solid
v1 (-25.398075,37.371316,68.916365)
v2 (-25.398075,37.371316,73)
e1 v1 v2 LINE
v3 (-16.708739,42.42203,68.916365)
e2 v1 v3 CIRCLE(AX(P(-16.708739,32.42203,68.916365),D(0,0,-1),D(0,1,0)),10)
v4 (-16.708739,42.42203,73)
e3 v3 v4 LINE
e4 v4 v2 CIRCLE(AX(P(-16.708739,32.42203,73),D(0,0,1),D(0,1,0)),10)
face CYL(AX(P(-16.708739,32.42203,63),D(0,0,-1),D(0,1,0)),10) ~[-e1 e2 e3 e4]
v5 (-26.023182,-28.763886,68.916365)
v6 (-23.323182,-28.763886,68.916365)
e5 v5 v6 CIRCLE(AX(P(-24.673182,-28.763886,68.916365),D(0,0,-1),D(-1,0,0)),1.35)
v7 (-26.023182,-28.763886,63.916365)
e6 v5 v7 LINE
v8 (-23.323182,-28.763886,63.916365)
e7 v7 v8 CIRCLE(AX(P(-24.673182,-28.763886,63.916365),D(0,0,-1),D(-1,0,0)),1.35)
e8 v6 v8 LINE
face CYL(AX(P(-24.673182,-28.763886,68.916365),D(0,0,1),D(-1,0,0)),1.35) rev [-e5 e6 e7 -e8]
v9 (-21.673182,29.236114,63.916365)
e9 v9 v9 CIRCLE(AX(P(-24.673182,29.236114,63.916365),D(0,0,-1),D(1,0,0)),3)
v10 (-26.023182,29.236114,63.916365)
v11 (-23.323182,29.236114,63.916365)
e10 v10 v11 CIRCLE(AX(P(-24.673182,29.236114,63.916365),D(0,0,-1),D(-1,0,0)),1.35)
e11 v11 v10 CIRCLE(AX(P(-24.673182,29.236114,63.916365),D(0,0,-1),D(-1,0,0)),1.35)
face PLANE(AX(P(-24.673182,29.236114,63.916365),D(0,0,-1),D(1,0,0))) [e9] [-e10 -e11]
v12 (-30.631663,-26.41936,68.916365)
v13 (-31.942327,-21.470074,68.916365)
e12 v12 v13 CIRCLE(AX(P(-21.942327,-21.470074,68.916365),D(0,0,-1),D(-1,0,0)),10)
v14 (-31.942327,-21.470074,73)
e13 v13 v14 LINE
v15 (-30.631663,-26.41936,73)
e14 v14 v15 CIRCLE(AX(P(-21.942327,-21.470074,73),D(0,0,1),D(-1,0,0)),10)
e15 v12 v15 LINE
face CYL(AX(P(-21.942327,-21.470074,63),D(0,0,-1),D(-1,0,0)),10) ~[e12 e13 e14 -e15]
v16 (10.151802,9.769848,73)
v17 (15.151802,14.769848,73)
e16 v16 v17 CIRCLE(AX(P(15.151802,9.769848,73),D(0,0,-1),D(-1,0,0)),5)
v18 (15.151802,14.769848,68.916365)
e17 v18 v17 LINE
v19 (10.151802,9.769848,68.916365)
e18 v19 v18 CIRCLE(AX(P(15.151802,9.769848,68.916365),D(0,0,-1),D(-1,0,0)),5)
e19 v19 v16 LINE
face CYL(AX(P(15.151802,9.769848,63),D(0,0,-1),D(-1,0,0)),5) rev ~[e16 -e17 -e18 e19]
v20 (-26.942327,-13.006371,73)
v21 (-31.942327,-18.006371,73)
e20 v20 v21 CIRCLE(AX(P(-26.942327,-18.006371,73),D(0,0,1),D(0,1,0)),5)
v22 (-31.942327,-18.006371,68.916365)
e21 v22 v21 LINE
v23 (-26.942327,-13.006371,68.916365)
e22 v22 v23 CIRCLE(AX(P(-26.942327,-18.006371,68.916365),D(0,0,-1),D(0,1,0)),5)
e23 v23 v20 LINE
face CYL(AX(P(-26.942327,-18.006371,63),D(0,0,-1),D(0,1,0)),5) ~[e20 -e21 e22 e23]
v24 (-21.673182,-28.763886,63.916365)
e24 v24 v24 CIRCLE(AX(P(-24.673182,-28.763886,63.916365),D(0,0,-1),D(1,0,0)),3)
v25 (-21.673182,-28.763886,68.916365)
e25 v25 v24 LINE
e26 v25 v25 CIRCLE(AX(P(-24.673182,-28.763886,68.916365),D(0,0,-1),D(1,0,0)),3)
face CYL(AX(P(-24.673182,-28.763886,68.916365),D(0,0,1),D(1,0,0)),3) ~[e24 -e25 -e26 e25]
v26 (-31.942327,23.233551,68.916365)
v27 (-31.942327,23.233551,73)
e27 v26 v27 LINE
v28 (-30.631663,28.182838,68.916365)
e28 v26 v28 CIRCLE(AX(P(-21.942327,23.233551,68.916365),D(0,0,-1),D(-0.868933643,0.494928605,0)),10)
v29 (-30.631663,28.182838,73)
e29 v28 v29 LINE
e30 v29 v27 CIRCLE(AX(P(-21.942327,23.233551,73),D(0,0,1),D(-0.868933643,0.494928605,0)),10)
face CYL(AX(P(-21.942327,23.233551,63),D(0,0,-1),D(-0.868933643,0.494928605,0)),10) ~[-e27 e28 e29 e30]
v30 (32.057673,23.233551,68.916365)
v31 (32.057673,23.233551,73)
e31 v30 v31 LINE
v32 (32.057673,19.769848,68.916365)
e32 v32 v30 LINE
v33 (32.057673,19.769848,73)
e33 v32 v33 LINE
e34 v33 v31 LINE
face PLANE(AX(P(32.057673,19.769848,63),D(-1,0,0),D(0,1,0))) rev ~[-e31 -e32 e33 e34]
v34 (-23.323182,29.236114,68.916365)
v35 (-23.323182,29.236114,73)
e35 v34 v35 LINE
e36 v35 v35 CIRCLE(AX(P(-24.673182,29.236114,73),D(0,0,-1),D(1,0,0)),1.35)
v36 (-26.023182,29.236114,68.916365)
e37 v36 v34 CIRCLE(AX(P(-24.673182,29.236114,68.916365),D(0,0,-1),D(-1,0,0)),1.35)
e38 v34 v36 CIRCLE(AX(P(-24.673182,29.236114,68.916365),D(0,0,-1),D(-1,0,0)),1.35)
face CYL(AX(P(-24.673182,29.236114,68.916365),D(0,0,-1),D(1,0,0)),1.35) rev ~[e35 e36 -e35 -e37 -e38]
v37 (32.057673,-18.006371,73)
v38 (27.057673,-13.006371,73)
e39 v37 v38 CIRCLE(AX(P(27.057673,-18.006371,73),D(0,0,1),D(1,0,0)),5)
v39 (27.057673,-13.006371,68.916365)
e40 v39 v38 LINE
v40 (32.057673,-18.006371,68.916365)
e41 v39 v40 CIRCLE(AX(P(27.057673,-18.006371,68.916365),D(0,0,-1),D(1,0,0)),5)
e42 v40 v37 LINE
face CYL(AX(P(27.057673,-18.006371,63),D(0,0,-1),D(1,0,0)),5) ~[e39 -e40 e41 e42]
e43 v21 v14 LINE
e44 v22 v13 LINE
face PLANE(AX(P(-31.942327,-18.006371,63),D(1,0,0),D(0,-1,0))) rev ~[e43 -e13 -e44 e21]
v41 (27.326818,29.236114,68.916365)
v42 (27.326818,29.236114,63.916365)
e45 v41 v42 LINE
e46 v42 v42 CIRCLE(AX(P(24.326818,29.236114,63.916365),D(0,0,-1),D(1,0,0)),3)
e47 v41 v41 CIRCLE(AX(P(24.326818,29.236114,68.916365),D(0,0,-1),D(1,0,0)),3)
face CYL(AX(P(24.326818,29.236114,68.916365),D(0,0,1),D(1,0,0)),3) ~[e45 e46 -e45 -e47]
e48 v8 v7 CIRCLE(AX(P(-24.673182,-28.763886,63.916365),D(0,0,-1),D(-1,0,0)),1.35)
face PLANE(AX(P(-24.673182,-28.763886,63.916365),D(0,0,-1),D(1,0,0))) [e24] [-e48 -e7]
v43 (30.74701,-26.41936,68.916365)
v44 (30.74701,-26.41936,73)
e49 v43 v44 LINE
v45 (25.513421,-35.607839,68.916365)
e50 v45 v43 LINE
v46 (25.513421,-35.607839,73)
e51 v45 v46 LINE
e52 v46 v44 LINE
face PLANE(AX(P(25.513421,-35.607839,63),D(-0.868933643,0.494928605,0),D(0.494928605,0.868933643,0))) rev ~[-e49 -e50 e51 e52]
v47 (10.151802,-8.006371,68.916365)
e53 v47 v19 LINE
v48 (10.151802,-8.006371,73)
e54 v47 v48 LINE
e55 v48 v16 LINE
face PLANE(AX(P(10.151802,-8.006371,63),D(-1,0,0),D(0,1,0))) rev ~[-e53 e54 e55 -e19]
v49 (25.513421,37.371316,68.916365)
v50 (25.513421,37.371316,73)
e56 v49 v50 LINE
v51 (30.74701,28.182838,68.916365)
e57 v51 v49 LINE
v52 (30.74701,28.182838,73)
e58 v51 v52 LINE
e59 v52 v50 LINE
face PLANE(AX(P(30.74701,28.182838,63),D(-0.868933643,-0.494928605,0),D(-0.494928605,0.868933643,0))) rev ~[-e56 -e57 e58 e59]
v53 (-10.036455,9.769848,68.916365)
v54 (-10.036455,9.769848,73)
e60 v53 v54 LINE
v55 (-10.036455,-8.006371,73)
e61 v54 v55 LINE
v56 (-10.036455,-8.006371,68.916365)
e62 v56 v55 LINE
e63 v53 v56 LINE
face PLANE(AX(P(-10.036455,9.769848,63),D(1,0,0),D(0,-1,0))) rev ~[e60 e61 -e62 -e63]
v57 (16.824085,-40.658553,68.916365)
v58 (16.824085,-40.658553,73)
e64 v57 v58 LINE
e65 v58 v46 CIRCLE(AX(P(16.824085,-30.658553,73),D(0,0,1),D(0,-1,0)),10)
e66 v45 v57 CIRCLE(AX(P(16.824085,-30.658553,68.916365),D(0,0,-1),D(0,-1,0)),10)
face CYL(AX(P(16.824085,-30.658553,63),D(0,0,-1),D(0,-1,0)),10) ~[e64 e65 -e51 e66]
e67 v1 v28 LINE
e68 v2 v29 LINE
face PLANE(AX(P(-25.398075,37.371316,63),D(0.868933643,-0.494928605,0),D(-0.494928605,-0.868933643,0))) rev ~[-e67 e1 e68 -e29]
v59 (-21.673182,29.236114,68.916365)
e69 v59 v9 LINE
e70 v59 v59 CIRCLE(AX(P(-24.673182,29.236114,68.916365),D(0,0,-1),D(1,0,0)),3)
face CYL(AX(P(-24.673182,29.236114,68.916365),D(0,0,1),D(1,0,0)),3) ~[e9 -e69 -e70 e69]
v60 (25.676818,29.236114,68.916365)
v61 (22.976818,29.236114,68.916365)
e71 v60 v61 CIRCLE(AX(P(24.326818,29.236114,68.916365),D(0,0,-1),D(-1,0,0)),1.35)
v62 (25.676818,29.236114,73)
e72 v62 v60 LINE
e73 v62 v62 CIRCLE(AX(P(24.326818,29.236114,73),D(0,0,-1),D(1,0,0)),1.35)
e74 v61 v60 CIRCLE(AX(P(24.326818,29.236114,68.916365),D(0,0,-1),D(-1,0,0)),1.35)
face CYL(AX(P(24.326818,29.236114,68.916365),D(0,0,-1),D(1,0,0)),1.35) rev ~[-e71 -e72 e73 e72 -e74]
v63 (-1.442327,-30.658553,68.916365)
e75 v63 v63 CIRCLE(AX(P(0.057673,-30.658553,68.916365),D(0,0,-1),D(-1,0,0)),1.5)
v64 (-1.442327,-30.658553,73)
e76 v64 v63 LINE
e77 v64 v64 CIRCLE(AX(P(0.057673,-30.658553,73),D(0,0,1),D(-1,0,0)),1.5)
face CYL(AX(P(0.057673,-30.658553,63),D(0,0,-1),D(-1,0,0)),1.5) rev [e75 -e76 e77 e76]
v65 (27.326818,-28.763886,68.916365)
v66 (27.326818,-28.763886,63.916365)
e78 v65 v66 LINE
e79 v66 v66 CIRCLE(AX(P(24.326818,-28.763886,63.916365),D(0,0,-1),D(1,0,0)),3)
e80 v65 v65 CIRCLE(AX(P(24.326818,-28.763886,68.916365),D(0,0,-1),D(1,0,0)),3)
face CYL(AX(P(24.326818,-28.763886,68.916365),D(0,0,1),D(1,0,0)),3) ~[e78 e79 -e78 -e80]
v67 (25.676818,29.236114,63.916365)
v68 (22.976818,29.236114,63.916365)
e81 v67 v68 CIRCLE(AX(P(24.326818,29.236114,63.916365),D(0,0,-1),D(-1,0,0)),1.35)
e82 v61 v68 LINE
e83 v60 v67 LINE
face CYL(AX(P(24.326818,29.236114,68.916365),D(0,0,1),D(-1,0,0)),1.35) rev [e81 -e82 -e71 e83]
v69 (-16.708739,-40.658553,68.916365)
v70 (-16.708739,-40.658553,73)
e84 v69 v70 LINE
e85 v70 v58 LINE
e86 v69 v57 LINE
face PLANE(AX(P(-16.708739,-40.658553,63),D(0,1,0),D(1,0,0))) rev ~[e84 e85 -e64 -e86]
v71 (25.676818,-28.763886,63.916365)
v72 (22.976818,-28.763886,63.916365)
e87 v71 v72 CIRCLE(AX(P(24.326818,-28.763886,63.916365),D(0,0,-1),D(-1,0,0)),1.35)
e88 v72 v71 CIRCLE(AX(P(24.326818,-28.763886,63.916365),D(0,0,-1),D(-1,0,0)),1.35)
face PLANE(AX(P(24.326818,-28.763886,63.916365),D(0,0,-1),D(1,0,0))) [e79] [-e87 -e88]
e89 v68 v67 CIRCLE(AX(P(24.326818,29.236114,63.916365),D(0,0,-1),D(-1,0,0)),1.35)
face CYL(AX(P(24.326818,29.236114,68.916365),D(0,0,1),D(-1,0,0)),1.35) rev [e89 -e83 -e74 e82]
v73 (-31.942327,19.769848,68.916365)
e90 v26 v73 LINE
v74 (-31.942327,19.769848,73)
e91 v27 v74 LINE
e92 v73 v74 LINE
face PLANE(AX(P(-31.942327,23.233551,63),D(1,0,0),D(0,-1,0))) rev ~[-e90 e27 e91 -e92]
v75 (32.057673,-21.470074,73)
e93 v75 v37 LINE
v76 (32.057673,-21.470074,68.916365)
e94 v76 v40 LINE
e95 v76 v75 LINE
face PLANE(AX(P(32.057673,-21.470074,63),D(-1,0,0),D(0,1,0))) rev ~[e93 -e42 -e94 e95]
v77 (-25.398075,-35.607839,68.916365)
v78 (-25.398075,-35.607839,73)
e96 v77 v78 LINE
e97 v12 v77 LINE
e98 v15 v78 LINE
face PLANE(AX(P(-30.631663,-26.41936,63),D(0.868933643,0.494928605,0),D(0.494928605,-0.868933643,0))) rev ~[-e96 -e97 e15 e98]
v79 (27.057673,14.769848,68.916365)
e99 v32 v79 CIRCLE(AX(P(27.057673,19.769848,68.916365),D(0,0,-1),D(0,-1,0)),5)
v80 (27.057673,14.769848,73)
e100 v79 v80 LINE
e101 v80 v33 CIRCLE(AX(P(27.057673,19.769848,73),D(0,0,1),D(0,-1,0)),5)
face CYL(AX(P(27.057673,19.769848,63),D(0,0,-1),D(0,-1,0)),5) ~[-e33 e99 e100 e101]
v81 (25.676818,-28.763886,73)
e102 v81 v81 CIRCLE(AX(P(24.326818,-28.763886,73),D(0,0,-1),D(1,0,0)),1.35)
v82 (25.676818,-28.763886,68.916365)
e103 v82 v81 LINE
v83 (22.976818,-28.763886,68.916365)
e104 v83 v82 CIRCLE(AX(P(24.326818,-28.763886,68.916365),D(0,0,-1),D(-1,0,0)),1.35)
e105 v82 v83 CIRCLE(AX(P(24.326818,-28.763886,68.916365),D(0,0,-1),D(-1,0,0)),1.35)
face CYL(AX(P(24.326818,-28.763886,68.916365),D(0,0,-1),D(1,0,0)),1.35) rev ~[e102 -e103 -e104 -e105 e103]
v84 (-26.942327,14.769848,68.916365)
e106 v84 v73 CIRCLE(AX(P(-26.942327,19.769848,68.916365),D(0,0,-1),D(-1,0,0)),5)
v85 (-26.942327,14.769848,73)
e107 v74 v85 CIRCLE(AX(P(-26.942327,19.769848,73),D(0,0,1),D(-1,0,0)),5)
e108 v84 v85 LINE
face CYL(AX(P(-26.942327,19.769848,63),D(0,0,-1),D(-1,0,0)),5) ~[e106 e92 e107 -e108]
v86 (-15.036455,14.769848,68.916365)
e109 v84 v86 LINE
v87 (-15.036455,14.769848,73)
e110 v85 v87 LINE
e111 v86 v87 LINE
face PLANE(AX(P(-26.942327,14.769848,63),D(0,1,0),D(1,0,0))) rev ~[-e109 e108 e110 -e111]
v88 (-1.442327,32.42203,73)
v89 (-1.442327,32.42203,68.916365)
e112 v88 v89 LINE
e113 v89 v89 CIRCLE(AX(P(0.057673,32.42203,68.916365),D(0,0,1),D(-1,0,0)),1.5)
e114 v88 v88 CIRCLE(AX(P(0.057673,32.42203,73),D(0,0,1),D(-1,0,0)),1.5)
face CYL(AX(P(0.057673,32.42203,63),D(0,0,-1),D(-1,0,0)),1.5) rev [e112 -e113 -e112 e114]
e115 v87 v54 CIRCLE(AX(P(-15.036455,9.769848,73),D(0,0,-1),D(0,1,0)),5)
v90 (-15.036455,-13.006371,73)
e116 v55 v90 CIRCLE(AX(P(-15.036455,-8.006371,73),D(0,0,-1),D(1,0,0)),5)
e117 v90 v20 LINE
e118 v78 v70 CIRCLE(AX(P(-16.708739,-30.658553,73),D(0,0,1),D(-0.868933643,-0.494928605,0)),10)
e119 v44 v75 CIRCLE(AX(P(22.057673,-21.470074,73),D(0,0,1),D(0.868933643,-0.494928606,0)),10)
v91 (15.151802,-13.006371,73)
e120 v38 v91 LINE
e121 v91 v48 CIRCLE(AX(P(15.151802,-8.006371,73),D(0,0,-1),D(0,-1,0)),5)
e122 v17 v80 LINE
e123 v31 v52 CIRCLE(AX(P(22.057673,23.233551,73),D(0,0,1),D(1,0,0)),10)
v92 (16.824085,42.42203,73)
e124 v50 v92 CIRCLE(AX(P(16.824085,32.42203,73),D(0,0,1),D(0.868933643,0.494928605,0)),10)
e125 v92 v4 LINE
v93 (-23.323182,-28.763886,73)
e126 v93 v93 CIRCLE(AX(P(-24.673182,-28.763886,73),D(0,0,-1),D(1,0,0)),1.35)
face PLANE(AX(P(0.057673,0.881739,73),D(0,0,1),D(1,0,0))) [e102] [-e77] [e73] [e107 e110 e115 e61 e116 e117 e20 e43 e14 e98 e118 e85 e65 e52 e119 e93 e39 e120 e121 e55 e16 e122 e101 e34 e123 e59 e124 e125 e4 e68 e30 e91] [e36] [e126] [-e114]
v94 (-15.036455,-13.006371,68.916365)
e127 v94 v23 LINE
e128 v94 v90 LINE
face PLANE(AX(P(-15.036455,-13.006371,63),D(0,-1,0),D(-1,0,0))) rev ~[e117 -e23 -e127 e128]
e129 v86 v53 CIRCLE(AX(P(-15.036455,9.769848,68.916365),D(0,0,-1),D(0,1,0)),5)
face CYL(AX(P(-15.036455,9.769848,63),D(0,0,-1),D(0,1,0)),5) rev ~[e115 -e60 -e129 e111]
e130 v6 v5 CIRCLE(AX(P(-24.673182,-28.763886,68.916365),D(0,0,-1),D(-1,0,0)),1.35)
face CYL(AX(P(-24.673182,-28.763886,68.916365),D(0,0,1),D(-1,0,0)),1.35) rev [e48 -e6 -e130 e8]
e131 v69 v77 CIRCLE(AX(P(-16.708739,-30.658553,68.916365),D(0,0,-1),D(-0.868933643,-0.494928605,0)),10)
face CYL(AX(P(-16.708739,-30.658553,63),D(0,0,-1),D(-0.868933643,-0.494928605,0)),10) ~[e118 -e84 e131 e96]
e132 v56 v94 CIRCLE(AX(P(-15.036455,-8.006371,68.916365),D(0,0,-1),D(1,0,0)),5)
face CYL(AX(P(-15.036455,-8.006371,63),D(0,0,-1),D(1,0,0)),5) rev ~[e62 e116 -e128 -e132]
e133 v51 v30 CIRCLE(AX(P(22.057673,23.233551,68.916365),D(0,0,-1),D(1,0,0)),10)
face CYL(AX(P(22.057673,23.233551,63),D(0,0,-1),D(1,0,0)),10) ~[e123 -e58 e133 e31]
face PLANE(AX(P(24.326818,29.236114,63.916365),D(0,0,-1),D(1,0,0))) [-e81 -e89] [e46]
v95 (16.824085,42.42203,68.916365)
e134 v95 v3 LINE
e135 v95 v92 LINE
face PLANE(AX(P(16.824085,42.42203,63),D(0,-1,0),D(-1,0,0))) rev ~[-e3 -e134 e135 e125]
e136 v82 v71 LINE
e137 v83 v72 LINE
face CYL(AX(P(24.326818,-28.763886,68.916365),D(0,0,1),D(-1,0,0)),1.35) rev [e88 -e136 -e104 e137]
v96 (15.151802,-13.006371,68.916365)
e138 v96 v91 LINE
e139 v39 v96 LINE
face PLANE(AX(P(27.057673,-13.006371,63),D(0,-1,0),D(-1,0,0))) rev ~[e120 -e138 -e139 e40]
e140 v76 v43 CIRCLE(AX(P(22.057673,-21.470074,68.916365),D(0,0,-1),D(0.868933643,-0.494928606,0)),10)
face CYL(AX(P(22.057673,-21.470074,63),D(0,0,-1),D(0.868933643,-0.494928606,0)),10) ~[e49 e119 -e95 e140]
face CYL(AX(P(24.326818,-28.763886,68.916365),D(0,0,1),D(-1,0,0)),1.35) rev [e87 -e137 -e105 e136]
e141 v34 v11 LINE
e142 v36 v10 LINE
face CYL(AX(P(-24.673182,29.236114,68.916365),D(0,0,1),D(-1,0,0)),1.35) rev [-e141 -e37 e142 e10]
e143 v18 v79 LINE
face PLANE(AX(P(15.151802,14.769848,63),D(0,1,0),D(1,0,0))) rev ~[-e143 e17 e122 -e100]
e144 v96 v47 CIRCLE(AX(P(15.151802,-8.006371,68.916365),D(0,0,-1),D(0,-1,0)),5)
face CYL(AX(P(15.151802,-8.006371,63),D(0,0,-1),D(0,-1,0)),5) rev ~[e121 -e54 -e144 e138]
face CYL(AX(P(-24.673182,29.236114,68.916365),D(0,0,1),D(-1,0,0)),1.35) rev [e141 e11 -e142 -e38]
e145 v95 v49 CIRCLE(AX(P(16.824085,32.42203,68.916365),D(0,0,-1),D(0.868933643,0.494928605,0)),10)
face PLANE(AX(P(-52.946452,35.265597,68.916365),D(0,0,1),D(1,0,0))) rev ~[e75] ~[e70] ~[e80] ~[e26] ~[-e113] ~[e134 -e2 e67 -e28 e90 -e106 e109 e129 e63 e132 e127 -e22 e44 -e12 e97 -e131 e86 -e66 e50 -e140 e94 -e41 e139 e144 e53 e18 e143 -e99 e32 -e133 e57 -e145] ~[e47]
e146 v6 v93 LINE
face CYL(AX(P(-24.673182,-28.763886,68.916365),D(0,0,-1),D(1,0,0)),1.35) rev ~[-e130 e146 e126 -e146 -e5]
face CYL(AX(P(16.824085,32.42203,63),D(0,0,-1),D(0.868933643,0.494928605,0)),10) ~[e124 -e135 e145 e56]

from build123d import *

# Parameters (mm, degrees)
IZIM1_R                     = 1.5
IZIM1_R_2                   = 1.275
Y_KSEKLIK_EKSTR_ZYON1_DEPTH = 8
IZIM2_R                     = 4
KES_EKSTR_ZYON1_DEPTH       = 5
IZIM3_R                     = 3.5
KES_EKSTR_ZYON2_DEPTH       = 5
IZIM5_W                     = 11.833700998
IZIM5_H                     = 5.687133077
Y_KSEKLIK_EKSTR_ZYON2_DEPTH = 55
IZIM6_R                     = 1.5
KES_EKSTR_ZYON3_DEPTH       = 70
Y_KSEKLIK_EKSTR_ZYON3_DEPTH = 10
KES_EKSTR_ZYON4_START       = -10
IZIM8_R                     = 1.5
KES_EKSTR_ZYON4_DEPTH       = 10
IZIM9_W                     = 97.77314617
IZIM9_H                     = 81.30293778
KES_EKSTR_ZYON5_DEPTH       = 94.5
IZIM10_R                    = 3
IZIM10_R_2                  = 1.35
Y_KSEKLIK_EKSTR_ZYON4_DEPTH = 5
IZIM12_R                    = 1.35
KES_EKSTR_ZYON6_DEPTH       = 11.5


with BuildPart() as part:
    # Çizim1 → Yükseklik-Ekstrüzyon1 (new body)
    with BuildSketch(Plane.XY):
        with BuildLine():
            Line((-26.942326891, 14.769848309), (-15.036455376, 14.769848309))
            ThreePointArc((-15.036455376, 14.769848309), (-11.50092147, 13.305382214), (-10.036455376, 9.769848309))
            Line((-10.036455376, 9.769848309), (-10.036455376, -8.006371062))
            ThreePointArc((-10.036455376, -8.006371062), (-11.50092147, -11.541904968), (-15.036455376, -13.006371062))
            Line((-15.036455376, -13.006371062), (-26.942326891, -13.006371062))
            ThreePointArc((-26.942326891, -13.006371062), (-30.477860797, -14.470837156), (-31.942326891, -18.006371062))
            Line((-31.942326891, -18.006371062), (-31.942326891, -21.470074229))
            ThreePointArc((-31.942326891, -21.470074229), (-31.6091093, -24.030019123), (-30.63166332, -26.419360282))
            Line((-30.63166332, -26.419360282), (-25.398075072, -35.607838889))
            ThreePointArc((-25.398075072, -35.607838889), (-21.734031643, -39.304154624), (-16.708738643, -40.658552836))
            Line((-16.708738643, -40.658552836), (16.824084861, -40.658552836))
            ThreePointArc((16.824084861, -40.658552836), (21.849377861, -39.304154624), (25.513421289, -35.607838889))
            Line((25.513421289, -35.607838889), (30.747009537, -26.419360282))
            ThreePointArc((30.747009537, -26.419360282), (31.724455518, -24.030019123), (32.057673109, -21.470074229))
            Line((32.057673109, -21.470074229), (32.057673109, -18.006371062))
            ThreePointArc((32.057673109, -18.006371062), (30.593207015, -14.470837156), (27.057673109, -13.006371062))
            Line((27.057673109, -13.006371062), (15.151801594, -13.006371062))
            ThreePointArc((15.151801594, -13.006371062), (11.616267688, -11.541904968), (10.151801594, -8.006371062))
            Line((10.151801594, -8.006371062), (10.151801594, 9.769848309))
            ThreePointArc((10.151801594, 9.769848309), (11.616267688, 13.305382214), (15.151801594, 14.769848309))
            Line((15.151801594, 14.769848309), (27.057673109, 14.769848309))
            ThreePointArc((27.057673109, 14.769848309), (30.593207015, 16.234314403), (32.057673109, 19.769848309))
            Line((32.057673109, 19.769848309), (32.057673109, 23.233551476))
            ThreePointArc((32.057673109, 23.233551476), (31.724455518, 25.793496369), (30.747009537, 28.182837528))
            Line((30.747009537, 28.182837528), (25.513421289, 37.371316135))
            ThreePointArc((25.513421289, 37.371316135), (21.849377861, 41.06763187), (16.824084861, 42.422030083))
            Line((16.824084861, 42.422030083), (-16.708738643, 42.422030083))
            ThreePointArc((-16.708738643, 42.422030083), (-21.734031643, 41.06763187), (-25.398075072, 37.371316135))
            Line((-25.398075072, 37.371316135), (-30.63166332, 28.182837528))
            ThreePointArc((-30.63166332, 28.182837528), (-31.6091093, 25.793496369), (-31.942326891, 23.233551476))
            Line((-31.942326891, 23.233551476), (-31.942326891, 19.769848309))
            ThreePointArc((-31.942326891, 19.769848309), (-30.477860797, 16.234314403), (-26.942326891, 14.769848309))
        make_face()
        with Locations((20.284256069, 32.422030083)):
            Circle(IZIM1_R, mode=Mode.SUBTRACT)
        with Locations((-20.168909852, 32.422030083)):
            Circle(IZIM1_R, mode=Mode.SUBTRACT)
        with Locations((-20.168909852, -30.658552836)):
            Circle(IZIM1_R, mode=Mode.SUBTRACT)
        with Locations((20.284256069, -30.658552836)):
            Circle(IZIM1_R, mode=Mode.SUBTRACT)
        with Locations((22.057673109, -21.118261377)):
            Circle(IZIM1_R_2, mode=Mode.SUBTRACT)
        with Locations((-21.942326891, -21.118261377)):
            Circle(IZIM1_R_2, mode=Mode.SUBTRACT)
        with Locations((22.057673109, 22.881738623)):
            Circle(IZIM1_R_2, mode=Mode.SUBTRACT)
        with Locations((-21.942326891, 22.881738623)):
            Circle(IZIM1_R_2, mode=Mode.SUBTRACT)
        with Locations((0.057673109, 32.422030083)):
            Circle(IZIM1_R, mode=Mode.SUBTRACT)
        with Locations(Location((0.057673109, -30.658552836, 0), (0, 0, 180))):
            Circle(IZIM1_R, mode=Mode.SUBTRACT)
    extrude(amount=Y_KSEKLIK_EKSTR_ZYON1_DEPTH)

    # Çizim2 → Kes-Ekstrüzyon1 (cut)
    with BuildSketch(Plane(origin=(0, 0, 0), x_dir=(-1, 0, 0), z_dir=(0, 0, -1))):
        with Locations((-22.057673109, 22.881738623)):
            Circle(IZIM2_R)
        with Locations((21.942326891, 22.881738623)):
            Circle(IZIM2_R)
        with Locations((-22.057673109, -21.118261377)):
            Circle(IZIM2_R)
        with Locations((21.942326891, -21.118261377)):
            Circle(IZIM2_R)
        with Locations((-0.057673109, 32.422030083)):
            Circle(IZIM2_R)
        with Locations((-0.057673109, -30.658552836)):
            Circle(IZIM2_R)
    extrude(amount=-KES_EKSTR_ZYON1_DEPTH, mode=Mode.SUBTRACT)

    # Çizim3 → Kes-Ekstrüzyon2 (cut)
    with BuildSketch(Plane.XY.offset(8)):
        with Locations((-20.168909852, 32.422030083)):
            Circle(IZIM3_R)
        with Locations((20.284256069, 32.422030083)):
            Circle(IZIM3_R)
        with Locations((20.284256069, -30.658552836)):
            Circle(IZIM3_R)
        with Locations((-20.168909852, -30.658552836)):
            Circle(IZIM3_R)
    extrude(amount=-KES_EKSTR_ZYON2_DEPTH, mode=Mode.SUBTRACT)

    # Çizim5 → Yükseklik-Ekstrüzyon2 (add)
    with BuildSketch(Plane.XY.offset(8)):
        with Locations((0.057673109, 32.422030083)):
            Rectangle(IZIM5_W, IZIM5_H)
        with Locations((0.057673109, -30.658552837)):
            Rectangle(IZIM5_W, IZIM5_H)
    extrude(amount=Y_KSEKLIK_EKSTR_ZYON2_DEPTH)

    # Çizim6 → Kes-Ekstrüzyon3 (cut)
    with BuildSketch(Plane(origin=(0, 0, 8), x_dir=(-1, 0, 0), z_dir=(0, 0, -1))):
        with Locations((-0.057673109, -30.658552836)):
            Circle(IZIM6_R)
        with Locations((-0.057673109, 32.422030083)):
            Circle(IZIM6_R)
    extrude(amount=-KES_EKSTR_ZYON3_DEPTH, mode=Mode.SUBTRACT)

    # Çizim7 → Yükseklik-Ekstrüzyon3 (add)
    with BuildSketch(Plane.XY.offset(63)):
        with BuildLine():
            Line((-31.942326891, 23.233551476), (-31.942326891, 19.769848309))
            ThreePointArc((-31.942326891, 19.769848309), (-30.477860797, 16.234314403), (-26.942326891, 14.769848309))
            Line((-26.942326891, 14.769848309), (-15.036455376, 14.769848309))
            ThreePointArc((-15.036455376, 14.769848309), (-11.50092147, 13.305382214), (-10.036455376, 9.769848309))
            Line((-10.036455376, 9.769848309), (-10.036455376, -8.006371062))
            ThreePointArc((-10.036455376, -8.006371062), (-11.50092147, -11.541904968), (-15.036455376, -13.006371062))
            Line((-15.036455376, -13.006371062), (-26.942326891, -13.006371062))
            ThreePointArc((-26.942326891, -13.006371062), (-30.477860797, -14.470837156), (-31.942326891, -18.006371062))
            Line((-31.942326891, -18.006371062), (-31.942326891, -21.470074229))
            ThreePointArc((-31.942326891, -21.470074229), (-31.6091093, -24.030019123), (-30.63166332, -26.419360282))
            Line((-30.63166332, -26.419360282), (-25.398075072, -35.607838889))
            ThreePointArc((-25.398075072, -35.607838889), (-21.734031643, -39.304154624), (-16.708738643, -40.658552836))
            Line((-16.708738643, -40.658552836), (16.824084861, -40.658552836))
            ThreePointArc((16.824084861, -40.658552836), (21.849377861, -39.304154624), (25.513421289, -35.607838889))
            Line((25.513421289, -35.607838889), (30.747009537, -26.419360282))
            ThreePointArc((30.747009537, -26.419360282), (31.724455518, -24.030019123), (32.057673109, -21.470074229))
            Line((32.057673109, -21.470074229), (32.057673109, -18.006371062))
            ThreePointArc((32.057673109, -18.006371062), (30.593207015, -14.470837156), (27.057673109, -13.006371062))
            Line((27.057673109, -13.006371062), (15.151801594, -13.006371062))
            ThreePointArc((15.151801594, -13.006371062), (11.616267688, -11.541904968), (10.151801594, -8.006371062))
            Line((10.151801594, -8.006371062), (10.151801594, 9.769848309))
            ThreePointArc((10.151801594, 9.769848309), (11.616267688, 13.305382214), (15.151801594, 14.769848309))
            Line((15.151801594, 14.769848309), (27.057673109, 14.769848309))
            ThreePointArc((27.057673109, 14.769848309), (30.593207015, 16.234314403), (32.057673109, 19.769848309))
            Line((32.057673109, 19.769848309), (32.057673109, 23.233551476))
            ThreePointArc((32.057673109, 23.233551476), (31.724455518, 25.793496369), (30.747009537, 28.182837528))
            Line((30.747009537, 28.182837528), (25.513421289, 37.371316135))
            ThreePointArc((25.513421289, 37.371316135), (21.849377861, 41.06763187), (16.824084861, 42.422030083))
            Line((16.824084861, 42.422030083), (-16.708738643, 42.422030083))
            ThreePointArc((-16.708738643, 42.422030083), (-21.734031643, 41.06763187), (-25.398075072, 37.371316135))
            Line((-25.398075072, 37.371316135), (-30.63166332, 28.182837528))
            ThreePointArc((-30.63166332, 28.182837528), (-31.6091093, 25.793496369), (-31.942326891, 23.233551476))
        make_face()
    extrude(amount=Y_KSEKLIK_EKSTR_ZYON3_DEPTH)

    # Çizim8 → Kes-Ekstrüzyon4 (cut)
    with BuildSketch(Plane.XY.offset(73).offset(KES_EKSTR_ZYON4_START)):
        with Locations(Location((0.057673109, -30.658552836, 0), (0, 0, 180))):
            Circle(IZIM8_R)
        with Locations(Location((0.057673109, 32.422030083, 0), (0, 0, 180))):
            Circle(IZIM8_R)
    extrude(amount=KES_EKSTR_ZYON4_DEPTH, mode=Mode.SUBTRACT)

    # Çizim9 → Kes-Ekstrüzyon5 (cut, symmetric)
    with BuildSketch(Plane(origin=(0, 35.265596621, 0), x_dir=(1, 0, 0), z_dir=(0, 1, 0))):
        with Locations((-4.059878989, -28.264895805)):
            Rectangle(IZIM9_W, IZIM9_H)
    extrude(amount=KES_EKSTR_ZYON5_DEPTH, both=True, mode=Mode.SUBTRACT)

    # Çizim10 → Yükseklik-Ekstrüzyon4 (add)
    # profile 1 of 4: a face of its own
    with BuildSketch(Plane(origin=(0, 0, 68.916364695), x_dir=(-1, 0, 0), z_dir=(0, 0, -1))):
        with Locations(Location((24.673182088, -28.763886305, 0), (0, 0, 180))):
            Circle(IZIM10_R)
        with Locations((24.673182088, -28.763886305)):
            Circle(IZIM10_R_2, mode=Mode.SUBTRACT)
    # profile 2 of 4: a face of its own
    with BuildSketch(Plane(origin=(0, 0, 68.916364695), x_dir=(-1, 0, 0), z_dir=(0, 0, -1))):
        with Locations(Location((-24.326817912, -28.763886305, 0), (0, 0, 180))):
            Circle(IZIM10_R)
        with Locations((-24.326817912, -28.763886305)):
            Circle(IZIM10_R_2, mode=Mode.SUBTRACT)
    # profile 3 of 4: a face of its own
    with BuildSketch(Plane(origin=(0, 0, 68.916364695), x_dir=(-1, 0, 0), z_dir=(0, 0, -1))):
        with Locations(Location((-24.326817912, 29.236113695, 0), (0, 0, 180))):
            Circle(IZIM10_R)
        with Locations((-24.326817912, 29.236113695)):
            Circle(IZIM10_R_2, mode=Mode.SUBTRACT)
    # profile 4 of 4: a face of its own
    with BuildSketch(Plane(origin=(0, 0, 68.916364695), x_dir=(-1, 0, 0), z_dir=(0, 0, -1))):
        with Locations(Location((24.673182088, 29.236113695, 0), (0, 0, 180))):
            Circle(IZIM10_R)
        with Locations((24.673182088, 29.236113695)):
            Circle(IZIM10_R_2, mode=Mode.SUBTRACT)
    extrude(amount=Y_KSEKLIK_EKSTR_ZYON4_DEPTH)

    # Çizim12 → Kes-Ekstrüzyon6 (cut, symmetric)
    with BuildSketch(Plane(origin=(0, 0, 68.916364695), x_dir=(-1, 0, 0), z_dir=(0, 0, -1))):
        with Locations(Location((-24.326817912, -28.763886305, 0), (0, 0, 180))):
            Circle(IZIM12_R)
        with Locations(Location((24.673182088, -28.763886305, 0), (0, 0, 180))):
            Circle(IZIM12_R)
        with Locations(Location((24.673182088, 29.236113695, 0), (0, 0, 180))):
            Circle(IZIM12_R)
        with Locations(Location((-24.326817912, 29.236113695, 0), (0, 0, 180))):
            Circle(IZIM12_R)
    extrude(amount=KES_EKSTR_ZYON6_DEPTH, both=True, mode=Mode.SUBTRACT)


solid = part.part
